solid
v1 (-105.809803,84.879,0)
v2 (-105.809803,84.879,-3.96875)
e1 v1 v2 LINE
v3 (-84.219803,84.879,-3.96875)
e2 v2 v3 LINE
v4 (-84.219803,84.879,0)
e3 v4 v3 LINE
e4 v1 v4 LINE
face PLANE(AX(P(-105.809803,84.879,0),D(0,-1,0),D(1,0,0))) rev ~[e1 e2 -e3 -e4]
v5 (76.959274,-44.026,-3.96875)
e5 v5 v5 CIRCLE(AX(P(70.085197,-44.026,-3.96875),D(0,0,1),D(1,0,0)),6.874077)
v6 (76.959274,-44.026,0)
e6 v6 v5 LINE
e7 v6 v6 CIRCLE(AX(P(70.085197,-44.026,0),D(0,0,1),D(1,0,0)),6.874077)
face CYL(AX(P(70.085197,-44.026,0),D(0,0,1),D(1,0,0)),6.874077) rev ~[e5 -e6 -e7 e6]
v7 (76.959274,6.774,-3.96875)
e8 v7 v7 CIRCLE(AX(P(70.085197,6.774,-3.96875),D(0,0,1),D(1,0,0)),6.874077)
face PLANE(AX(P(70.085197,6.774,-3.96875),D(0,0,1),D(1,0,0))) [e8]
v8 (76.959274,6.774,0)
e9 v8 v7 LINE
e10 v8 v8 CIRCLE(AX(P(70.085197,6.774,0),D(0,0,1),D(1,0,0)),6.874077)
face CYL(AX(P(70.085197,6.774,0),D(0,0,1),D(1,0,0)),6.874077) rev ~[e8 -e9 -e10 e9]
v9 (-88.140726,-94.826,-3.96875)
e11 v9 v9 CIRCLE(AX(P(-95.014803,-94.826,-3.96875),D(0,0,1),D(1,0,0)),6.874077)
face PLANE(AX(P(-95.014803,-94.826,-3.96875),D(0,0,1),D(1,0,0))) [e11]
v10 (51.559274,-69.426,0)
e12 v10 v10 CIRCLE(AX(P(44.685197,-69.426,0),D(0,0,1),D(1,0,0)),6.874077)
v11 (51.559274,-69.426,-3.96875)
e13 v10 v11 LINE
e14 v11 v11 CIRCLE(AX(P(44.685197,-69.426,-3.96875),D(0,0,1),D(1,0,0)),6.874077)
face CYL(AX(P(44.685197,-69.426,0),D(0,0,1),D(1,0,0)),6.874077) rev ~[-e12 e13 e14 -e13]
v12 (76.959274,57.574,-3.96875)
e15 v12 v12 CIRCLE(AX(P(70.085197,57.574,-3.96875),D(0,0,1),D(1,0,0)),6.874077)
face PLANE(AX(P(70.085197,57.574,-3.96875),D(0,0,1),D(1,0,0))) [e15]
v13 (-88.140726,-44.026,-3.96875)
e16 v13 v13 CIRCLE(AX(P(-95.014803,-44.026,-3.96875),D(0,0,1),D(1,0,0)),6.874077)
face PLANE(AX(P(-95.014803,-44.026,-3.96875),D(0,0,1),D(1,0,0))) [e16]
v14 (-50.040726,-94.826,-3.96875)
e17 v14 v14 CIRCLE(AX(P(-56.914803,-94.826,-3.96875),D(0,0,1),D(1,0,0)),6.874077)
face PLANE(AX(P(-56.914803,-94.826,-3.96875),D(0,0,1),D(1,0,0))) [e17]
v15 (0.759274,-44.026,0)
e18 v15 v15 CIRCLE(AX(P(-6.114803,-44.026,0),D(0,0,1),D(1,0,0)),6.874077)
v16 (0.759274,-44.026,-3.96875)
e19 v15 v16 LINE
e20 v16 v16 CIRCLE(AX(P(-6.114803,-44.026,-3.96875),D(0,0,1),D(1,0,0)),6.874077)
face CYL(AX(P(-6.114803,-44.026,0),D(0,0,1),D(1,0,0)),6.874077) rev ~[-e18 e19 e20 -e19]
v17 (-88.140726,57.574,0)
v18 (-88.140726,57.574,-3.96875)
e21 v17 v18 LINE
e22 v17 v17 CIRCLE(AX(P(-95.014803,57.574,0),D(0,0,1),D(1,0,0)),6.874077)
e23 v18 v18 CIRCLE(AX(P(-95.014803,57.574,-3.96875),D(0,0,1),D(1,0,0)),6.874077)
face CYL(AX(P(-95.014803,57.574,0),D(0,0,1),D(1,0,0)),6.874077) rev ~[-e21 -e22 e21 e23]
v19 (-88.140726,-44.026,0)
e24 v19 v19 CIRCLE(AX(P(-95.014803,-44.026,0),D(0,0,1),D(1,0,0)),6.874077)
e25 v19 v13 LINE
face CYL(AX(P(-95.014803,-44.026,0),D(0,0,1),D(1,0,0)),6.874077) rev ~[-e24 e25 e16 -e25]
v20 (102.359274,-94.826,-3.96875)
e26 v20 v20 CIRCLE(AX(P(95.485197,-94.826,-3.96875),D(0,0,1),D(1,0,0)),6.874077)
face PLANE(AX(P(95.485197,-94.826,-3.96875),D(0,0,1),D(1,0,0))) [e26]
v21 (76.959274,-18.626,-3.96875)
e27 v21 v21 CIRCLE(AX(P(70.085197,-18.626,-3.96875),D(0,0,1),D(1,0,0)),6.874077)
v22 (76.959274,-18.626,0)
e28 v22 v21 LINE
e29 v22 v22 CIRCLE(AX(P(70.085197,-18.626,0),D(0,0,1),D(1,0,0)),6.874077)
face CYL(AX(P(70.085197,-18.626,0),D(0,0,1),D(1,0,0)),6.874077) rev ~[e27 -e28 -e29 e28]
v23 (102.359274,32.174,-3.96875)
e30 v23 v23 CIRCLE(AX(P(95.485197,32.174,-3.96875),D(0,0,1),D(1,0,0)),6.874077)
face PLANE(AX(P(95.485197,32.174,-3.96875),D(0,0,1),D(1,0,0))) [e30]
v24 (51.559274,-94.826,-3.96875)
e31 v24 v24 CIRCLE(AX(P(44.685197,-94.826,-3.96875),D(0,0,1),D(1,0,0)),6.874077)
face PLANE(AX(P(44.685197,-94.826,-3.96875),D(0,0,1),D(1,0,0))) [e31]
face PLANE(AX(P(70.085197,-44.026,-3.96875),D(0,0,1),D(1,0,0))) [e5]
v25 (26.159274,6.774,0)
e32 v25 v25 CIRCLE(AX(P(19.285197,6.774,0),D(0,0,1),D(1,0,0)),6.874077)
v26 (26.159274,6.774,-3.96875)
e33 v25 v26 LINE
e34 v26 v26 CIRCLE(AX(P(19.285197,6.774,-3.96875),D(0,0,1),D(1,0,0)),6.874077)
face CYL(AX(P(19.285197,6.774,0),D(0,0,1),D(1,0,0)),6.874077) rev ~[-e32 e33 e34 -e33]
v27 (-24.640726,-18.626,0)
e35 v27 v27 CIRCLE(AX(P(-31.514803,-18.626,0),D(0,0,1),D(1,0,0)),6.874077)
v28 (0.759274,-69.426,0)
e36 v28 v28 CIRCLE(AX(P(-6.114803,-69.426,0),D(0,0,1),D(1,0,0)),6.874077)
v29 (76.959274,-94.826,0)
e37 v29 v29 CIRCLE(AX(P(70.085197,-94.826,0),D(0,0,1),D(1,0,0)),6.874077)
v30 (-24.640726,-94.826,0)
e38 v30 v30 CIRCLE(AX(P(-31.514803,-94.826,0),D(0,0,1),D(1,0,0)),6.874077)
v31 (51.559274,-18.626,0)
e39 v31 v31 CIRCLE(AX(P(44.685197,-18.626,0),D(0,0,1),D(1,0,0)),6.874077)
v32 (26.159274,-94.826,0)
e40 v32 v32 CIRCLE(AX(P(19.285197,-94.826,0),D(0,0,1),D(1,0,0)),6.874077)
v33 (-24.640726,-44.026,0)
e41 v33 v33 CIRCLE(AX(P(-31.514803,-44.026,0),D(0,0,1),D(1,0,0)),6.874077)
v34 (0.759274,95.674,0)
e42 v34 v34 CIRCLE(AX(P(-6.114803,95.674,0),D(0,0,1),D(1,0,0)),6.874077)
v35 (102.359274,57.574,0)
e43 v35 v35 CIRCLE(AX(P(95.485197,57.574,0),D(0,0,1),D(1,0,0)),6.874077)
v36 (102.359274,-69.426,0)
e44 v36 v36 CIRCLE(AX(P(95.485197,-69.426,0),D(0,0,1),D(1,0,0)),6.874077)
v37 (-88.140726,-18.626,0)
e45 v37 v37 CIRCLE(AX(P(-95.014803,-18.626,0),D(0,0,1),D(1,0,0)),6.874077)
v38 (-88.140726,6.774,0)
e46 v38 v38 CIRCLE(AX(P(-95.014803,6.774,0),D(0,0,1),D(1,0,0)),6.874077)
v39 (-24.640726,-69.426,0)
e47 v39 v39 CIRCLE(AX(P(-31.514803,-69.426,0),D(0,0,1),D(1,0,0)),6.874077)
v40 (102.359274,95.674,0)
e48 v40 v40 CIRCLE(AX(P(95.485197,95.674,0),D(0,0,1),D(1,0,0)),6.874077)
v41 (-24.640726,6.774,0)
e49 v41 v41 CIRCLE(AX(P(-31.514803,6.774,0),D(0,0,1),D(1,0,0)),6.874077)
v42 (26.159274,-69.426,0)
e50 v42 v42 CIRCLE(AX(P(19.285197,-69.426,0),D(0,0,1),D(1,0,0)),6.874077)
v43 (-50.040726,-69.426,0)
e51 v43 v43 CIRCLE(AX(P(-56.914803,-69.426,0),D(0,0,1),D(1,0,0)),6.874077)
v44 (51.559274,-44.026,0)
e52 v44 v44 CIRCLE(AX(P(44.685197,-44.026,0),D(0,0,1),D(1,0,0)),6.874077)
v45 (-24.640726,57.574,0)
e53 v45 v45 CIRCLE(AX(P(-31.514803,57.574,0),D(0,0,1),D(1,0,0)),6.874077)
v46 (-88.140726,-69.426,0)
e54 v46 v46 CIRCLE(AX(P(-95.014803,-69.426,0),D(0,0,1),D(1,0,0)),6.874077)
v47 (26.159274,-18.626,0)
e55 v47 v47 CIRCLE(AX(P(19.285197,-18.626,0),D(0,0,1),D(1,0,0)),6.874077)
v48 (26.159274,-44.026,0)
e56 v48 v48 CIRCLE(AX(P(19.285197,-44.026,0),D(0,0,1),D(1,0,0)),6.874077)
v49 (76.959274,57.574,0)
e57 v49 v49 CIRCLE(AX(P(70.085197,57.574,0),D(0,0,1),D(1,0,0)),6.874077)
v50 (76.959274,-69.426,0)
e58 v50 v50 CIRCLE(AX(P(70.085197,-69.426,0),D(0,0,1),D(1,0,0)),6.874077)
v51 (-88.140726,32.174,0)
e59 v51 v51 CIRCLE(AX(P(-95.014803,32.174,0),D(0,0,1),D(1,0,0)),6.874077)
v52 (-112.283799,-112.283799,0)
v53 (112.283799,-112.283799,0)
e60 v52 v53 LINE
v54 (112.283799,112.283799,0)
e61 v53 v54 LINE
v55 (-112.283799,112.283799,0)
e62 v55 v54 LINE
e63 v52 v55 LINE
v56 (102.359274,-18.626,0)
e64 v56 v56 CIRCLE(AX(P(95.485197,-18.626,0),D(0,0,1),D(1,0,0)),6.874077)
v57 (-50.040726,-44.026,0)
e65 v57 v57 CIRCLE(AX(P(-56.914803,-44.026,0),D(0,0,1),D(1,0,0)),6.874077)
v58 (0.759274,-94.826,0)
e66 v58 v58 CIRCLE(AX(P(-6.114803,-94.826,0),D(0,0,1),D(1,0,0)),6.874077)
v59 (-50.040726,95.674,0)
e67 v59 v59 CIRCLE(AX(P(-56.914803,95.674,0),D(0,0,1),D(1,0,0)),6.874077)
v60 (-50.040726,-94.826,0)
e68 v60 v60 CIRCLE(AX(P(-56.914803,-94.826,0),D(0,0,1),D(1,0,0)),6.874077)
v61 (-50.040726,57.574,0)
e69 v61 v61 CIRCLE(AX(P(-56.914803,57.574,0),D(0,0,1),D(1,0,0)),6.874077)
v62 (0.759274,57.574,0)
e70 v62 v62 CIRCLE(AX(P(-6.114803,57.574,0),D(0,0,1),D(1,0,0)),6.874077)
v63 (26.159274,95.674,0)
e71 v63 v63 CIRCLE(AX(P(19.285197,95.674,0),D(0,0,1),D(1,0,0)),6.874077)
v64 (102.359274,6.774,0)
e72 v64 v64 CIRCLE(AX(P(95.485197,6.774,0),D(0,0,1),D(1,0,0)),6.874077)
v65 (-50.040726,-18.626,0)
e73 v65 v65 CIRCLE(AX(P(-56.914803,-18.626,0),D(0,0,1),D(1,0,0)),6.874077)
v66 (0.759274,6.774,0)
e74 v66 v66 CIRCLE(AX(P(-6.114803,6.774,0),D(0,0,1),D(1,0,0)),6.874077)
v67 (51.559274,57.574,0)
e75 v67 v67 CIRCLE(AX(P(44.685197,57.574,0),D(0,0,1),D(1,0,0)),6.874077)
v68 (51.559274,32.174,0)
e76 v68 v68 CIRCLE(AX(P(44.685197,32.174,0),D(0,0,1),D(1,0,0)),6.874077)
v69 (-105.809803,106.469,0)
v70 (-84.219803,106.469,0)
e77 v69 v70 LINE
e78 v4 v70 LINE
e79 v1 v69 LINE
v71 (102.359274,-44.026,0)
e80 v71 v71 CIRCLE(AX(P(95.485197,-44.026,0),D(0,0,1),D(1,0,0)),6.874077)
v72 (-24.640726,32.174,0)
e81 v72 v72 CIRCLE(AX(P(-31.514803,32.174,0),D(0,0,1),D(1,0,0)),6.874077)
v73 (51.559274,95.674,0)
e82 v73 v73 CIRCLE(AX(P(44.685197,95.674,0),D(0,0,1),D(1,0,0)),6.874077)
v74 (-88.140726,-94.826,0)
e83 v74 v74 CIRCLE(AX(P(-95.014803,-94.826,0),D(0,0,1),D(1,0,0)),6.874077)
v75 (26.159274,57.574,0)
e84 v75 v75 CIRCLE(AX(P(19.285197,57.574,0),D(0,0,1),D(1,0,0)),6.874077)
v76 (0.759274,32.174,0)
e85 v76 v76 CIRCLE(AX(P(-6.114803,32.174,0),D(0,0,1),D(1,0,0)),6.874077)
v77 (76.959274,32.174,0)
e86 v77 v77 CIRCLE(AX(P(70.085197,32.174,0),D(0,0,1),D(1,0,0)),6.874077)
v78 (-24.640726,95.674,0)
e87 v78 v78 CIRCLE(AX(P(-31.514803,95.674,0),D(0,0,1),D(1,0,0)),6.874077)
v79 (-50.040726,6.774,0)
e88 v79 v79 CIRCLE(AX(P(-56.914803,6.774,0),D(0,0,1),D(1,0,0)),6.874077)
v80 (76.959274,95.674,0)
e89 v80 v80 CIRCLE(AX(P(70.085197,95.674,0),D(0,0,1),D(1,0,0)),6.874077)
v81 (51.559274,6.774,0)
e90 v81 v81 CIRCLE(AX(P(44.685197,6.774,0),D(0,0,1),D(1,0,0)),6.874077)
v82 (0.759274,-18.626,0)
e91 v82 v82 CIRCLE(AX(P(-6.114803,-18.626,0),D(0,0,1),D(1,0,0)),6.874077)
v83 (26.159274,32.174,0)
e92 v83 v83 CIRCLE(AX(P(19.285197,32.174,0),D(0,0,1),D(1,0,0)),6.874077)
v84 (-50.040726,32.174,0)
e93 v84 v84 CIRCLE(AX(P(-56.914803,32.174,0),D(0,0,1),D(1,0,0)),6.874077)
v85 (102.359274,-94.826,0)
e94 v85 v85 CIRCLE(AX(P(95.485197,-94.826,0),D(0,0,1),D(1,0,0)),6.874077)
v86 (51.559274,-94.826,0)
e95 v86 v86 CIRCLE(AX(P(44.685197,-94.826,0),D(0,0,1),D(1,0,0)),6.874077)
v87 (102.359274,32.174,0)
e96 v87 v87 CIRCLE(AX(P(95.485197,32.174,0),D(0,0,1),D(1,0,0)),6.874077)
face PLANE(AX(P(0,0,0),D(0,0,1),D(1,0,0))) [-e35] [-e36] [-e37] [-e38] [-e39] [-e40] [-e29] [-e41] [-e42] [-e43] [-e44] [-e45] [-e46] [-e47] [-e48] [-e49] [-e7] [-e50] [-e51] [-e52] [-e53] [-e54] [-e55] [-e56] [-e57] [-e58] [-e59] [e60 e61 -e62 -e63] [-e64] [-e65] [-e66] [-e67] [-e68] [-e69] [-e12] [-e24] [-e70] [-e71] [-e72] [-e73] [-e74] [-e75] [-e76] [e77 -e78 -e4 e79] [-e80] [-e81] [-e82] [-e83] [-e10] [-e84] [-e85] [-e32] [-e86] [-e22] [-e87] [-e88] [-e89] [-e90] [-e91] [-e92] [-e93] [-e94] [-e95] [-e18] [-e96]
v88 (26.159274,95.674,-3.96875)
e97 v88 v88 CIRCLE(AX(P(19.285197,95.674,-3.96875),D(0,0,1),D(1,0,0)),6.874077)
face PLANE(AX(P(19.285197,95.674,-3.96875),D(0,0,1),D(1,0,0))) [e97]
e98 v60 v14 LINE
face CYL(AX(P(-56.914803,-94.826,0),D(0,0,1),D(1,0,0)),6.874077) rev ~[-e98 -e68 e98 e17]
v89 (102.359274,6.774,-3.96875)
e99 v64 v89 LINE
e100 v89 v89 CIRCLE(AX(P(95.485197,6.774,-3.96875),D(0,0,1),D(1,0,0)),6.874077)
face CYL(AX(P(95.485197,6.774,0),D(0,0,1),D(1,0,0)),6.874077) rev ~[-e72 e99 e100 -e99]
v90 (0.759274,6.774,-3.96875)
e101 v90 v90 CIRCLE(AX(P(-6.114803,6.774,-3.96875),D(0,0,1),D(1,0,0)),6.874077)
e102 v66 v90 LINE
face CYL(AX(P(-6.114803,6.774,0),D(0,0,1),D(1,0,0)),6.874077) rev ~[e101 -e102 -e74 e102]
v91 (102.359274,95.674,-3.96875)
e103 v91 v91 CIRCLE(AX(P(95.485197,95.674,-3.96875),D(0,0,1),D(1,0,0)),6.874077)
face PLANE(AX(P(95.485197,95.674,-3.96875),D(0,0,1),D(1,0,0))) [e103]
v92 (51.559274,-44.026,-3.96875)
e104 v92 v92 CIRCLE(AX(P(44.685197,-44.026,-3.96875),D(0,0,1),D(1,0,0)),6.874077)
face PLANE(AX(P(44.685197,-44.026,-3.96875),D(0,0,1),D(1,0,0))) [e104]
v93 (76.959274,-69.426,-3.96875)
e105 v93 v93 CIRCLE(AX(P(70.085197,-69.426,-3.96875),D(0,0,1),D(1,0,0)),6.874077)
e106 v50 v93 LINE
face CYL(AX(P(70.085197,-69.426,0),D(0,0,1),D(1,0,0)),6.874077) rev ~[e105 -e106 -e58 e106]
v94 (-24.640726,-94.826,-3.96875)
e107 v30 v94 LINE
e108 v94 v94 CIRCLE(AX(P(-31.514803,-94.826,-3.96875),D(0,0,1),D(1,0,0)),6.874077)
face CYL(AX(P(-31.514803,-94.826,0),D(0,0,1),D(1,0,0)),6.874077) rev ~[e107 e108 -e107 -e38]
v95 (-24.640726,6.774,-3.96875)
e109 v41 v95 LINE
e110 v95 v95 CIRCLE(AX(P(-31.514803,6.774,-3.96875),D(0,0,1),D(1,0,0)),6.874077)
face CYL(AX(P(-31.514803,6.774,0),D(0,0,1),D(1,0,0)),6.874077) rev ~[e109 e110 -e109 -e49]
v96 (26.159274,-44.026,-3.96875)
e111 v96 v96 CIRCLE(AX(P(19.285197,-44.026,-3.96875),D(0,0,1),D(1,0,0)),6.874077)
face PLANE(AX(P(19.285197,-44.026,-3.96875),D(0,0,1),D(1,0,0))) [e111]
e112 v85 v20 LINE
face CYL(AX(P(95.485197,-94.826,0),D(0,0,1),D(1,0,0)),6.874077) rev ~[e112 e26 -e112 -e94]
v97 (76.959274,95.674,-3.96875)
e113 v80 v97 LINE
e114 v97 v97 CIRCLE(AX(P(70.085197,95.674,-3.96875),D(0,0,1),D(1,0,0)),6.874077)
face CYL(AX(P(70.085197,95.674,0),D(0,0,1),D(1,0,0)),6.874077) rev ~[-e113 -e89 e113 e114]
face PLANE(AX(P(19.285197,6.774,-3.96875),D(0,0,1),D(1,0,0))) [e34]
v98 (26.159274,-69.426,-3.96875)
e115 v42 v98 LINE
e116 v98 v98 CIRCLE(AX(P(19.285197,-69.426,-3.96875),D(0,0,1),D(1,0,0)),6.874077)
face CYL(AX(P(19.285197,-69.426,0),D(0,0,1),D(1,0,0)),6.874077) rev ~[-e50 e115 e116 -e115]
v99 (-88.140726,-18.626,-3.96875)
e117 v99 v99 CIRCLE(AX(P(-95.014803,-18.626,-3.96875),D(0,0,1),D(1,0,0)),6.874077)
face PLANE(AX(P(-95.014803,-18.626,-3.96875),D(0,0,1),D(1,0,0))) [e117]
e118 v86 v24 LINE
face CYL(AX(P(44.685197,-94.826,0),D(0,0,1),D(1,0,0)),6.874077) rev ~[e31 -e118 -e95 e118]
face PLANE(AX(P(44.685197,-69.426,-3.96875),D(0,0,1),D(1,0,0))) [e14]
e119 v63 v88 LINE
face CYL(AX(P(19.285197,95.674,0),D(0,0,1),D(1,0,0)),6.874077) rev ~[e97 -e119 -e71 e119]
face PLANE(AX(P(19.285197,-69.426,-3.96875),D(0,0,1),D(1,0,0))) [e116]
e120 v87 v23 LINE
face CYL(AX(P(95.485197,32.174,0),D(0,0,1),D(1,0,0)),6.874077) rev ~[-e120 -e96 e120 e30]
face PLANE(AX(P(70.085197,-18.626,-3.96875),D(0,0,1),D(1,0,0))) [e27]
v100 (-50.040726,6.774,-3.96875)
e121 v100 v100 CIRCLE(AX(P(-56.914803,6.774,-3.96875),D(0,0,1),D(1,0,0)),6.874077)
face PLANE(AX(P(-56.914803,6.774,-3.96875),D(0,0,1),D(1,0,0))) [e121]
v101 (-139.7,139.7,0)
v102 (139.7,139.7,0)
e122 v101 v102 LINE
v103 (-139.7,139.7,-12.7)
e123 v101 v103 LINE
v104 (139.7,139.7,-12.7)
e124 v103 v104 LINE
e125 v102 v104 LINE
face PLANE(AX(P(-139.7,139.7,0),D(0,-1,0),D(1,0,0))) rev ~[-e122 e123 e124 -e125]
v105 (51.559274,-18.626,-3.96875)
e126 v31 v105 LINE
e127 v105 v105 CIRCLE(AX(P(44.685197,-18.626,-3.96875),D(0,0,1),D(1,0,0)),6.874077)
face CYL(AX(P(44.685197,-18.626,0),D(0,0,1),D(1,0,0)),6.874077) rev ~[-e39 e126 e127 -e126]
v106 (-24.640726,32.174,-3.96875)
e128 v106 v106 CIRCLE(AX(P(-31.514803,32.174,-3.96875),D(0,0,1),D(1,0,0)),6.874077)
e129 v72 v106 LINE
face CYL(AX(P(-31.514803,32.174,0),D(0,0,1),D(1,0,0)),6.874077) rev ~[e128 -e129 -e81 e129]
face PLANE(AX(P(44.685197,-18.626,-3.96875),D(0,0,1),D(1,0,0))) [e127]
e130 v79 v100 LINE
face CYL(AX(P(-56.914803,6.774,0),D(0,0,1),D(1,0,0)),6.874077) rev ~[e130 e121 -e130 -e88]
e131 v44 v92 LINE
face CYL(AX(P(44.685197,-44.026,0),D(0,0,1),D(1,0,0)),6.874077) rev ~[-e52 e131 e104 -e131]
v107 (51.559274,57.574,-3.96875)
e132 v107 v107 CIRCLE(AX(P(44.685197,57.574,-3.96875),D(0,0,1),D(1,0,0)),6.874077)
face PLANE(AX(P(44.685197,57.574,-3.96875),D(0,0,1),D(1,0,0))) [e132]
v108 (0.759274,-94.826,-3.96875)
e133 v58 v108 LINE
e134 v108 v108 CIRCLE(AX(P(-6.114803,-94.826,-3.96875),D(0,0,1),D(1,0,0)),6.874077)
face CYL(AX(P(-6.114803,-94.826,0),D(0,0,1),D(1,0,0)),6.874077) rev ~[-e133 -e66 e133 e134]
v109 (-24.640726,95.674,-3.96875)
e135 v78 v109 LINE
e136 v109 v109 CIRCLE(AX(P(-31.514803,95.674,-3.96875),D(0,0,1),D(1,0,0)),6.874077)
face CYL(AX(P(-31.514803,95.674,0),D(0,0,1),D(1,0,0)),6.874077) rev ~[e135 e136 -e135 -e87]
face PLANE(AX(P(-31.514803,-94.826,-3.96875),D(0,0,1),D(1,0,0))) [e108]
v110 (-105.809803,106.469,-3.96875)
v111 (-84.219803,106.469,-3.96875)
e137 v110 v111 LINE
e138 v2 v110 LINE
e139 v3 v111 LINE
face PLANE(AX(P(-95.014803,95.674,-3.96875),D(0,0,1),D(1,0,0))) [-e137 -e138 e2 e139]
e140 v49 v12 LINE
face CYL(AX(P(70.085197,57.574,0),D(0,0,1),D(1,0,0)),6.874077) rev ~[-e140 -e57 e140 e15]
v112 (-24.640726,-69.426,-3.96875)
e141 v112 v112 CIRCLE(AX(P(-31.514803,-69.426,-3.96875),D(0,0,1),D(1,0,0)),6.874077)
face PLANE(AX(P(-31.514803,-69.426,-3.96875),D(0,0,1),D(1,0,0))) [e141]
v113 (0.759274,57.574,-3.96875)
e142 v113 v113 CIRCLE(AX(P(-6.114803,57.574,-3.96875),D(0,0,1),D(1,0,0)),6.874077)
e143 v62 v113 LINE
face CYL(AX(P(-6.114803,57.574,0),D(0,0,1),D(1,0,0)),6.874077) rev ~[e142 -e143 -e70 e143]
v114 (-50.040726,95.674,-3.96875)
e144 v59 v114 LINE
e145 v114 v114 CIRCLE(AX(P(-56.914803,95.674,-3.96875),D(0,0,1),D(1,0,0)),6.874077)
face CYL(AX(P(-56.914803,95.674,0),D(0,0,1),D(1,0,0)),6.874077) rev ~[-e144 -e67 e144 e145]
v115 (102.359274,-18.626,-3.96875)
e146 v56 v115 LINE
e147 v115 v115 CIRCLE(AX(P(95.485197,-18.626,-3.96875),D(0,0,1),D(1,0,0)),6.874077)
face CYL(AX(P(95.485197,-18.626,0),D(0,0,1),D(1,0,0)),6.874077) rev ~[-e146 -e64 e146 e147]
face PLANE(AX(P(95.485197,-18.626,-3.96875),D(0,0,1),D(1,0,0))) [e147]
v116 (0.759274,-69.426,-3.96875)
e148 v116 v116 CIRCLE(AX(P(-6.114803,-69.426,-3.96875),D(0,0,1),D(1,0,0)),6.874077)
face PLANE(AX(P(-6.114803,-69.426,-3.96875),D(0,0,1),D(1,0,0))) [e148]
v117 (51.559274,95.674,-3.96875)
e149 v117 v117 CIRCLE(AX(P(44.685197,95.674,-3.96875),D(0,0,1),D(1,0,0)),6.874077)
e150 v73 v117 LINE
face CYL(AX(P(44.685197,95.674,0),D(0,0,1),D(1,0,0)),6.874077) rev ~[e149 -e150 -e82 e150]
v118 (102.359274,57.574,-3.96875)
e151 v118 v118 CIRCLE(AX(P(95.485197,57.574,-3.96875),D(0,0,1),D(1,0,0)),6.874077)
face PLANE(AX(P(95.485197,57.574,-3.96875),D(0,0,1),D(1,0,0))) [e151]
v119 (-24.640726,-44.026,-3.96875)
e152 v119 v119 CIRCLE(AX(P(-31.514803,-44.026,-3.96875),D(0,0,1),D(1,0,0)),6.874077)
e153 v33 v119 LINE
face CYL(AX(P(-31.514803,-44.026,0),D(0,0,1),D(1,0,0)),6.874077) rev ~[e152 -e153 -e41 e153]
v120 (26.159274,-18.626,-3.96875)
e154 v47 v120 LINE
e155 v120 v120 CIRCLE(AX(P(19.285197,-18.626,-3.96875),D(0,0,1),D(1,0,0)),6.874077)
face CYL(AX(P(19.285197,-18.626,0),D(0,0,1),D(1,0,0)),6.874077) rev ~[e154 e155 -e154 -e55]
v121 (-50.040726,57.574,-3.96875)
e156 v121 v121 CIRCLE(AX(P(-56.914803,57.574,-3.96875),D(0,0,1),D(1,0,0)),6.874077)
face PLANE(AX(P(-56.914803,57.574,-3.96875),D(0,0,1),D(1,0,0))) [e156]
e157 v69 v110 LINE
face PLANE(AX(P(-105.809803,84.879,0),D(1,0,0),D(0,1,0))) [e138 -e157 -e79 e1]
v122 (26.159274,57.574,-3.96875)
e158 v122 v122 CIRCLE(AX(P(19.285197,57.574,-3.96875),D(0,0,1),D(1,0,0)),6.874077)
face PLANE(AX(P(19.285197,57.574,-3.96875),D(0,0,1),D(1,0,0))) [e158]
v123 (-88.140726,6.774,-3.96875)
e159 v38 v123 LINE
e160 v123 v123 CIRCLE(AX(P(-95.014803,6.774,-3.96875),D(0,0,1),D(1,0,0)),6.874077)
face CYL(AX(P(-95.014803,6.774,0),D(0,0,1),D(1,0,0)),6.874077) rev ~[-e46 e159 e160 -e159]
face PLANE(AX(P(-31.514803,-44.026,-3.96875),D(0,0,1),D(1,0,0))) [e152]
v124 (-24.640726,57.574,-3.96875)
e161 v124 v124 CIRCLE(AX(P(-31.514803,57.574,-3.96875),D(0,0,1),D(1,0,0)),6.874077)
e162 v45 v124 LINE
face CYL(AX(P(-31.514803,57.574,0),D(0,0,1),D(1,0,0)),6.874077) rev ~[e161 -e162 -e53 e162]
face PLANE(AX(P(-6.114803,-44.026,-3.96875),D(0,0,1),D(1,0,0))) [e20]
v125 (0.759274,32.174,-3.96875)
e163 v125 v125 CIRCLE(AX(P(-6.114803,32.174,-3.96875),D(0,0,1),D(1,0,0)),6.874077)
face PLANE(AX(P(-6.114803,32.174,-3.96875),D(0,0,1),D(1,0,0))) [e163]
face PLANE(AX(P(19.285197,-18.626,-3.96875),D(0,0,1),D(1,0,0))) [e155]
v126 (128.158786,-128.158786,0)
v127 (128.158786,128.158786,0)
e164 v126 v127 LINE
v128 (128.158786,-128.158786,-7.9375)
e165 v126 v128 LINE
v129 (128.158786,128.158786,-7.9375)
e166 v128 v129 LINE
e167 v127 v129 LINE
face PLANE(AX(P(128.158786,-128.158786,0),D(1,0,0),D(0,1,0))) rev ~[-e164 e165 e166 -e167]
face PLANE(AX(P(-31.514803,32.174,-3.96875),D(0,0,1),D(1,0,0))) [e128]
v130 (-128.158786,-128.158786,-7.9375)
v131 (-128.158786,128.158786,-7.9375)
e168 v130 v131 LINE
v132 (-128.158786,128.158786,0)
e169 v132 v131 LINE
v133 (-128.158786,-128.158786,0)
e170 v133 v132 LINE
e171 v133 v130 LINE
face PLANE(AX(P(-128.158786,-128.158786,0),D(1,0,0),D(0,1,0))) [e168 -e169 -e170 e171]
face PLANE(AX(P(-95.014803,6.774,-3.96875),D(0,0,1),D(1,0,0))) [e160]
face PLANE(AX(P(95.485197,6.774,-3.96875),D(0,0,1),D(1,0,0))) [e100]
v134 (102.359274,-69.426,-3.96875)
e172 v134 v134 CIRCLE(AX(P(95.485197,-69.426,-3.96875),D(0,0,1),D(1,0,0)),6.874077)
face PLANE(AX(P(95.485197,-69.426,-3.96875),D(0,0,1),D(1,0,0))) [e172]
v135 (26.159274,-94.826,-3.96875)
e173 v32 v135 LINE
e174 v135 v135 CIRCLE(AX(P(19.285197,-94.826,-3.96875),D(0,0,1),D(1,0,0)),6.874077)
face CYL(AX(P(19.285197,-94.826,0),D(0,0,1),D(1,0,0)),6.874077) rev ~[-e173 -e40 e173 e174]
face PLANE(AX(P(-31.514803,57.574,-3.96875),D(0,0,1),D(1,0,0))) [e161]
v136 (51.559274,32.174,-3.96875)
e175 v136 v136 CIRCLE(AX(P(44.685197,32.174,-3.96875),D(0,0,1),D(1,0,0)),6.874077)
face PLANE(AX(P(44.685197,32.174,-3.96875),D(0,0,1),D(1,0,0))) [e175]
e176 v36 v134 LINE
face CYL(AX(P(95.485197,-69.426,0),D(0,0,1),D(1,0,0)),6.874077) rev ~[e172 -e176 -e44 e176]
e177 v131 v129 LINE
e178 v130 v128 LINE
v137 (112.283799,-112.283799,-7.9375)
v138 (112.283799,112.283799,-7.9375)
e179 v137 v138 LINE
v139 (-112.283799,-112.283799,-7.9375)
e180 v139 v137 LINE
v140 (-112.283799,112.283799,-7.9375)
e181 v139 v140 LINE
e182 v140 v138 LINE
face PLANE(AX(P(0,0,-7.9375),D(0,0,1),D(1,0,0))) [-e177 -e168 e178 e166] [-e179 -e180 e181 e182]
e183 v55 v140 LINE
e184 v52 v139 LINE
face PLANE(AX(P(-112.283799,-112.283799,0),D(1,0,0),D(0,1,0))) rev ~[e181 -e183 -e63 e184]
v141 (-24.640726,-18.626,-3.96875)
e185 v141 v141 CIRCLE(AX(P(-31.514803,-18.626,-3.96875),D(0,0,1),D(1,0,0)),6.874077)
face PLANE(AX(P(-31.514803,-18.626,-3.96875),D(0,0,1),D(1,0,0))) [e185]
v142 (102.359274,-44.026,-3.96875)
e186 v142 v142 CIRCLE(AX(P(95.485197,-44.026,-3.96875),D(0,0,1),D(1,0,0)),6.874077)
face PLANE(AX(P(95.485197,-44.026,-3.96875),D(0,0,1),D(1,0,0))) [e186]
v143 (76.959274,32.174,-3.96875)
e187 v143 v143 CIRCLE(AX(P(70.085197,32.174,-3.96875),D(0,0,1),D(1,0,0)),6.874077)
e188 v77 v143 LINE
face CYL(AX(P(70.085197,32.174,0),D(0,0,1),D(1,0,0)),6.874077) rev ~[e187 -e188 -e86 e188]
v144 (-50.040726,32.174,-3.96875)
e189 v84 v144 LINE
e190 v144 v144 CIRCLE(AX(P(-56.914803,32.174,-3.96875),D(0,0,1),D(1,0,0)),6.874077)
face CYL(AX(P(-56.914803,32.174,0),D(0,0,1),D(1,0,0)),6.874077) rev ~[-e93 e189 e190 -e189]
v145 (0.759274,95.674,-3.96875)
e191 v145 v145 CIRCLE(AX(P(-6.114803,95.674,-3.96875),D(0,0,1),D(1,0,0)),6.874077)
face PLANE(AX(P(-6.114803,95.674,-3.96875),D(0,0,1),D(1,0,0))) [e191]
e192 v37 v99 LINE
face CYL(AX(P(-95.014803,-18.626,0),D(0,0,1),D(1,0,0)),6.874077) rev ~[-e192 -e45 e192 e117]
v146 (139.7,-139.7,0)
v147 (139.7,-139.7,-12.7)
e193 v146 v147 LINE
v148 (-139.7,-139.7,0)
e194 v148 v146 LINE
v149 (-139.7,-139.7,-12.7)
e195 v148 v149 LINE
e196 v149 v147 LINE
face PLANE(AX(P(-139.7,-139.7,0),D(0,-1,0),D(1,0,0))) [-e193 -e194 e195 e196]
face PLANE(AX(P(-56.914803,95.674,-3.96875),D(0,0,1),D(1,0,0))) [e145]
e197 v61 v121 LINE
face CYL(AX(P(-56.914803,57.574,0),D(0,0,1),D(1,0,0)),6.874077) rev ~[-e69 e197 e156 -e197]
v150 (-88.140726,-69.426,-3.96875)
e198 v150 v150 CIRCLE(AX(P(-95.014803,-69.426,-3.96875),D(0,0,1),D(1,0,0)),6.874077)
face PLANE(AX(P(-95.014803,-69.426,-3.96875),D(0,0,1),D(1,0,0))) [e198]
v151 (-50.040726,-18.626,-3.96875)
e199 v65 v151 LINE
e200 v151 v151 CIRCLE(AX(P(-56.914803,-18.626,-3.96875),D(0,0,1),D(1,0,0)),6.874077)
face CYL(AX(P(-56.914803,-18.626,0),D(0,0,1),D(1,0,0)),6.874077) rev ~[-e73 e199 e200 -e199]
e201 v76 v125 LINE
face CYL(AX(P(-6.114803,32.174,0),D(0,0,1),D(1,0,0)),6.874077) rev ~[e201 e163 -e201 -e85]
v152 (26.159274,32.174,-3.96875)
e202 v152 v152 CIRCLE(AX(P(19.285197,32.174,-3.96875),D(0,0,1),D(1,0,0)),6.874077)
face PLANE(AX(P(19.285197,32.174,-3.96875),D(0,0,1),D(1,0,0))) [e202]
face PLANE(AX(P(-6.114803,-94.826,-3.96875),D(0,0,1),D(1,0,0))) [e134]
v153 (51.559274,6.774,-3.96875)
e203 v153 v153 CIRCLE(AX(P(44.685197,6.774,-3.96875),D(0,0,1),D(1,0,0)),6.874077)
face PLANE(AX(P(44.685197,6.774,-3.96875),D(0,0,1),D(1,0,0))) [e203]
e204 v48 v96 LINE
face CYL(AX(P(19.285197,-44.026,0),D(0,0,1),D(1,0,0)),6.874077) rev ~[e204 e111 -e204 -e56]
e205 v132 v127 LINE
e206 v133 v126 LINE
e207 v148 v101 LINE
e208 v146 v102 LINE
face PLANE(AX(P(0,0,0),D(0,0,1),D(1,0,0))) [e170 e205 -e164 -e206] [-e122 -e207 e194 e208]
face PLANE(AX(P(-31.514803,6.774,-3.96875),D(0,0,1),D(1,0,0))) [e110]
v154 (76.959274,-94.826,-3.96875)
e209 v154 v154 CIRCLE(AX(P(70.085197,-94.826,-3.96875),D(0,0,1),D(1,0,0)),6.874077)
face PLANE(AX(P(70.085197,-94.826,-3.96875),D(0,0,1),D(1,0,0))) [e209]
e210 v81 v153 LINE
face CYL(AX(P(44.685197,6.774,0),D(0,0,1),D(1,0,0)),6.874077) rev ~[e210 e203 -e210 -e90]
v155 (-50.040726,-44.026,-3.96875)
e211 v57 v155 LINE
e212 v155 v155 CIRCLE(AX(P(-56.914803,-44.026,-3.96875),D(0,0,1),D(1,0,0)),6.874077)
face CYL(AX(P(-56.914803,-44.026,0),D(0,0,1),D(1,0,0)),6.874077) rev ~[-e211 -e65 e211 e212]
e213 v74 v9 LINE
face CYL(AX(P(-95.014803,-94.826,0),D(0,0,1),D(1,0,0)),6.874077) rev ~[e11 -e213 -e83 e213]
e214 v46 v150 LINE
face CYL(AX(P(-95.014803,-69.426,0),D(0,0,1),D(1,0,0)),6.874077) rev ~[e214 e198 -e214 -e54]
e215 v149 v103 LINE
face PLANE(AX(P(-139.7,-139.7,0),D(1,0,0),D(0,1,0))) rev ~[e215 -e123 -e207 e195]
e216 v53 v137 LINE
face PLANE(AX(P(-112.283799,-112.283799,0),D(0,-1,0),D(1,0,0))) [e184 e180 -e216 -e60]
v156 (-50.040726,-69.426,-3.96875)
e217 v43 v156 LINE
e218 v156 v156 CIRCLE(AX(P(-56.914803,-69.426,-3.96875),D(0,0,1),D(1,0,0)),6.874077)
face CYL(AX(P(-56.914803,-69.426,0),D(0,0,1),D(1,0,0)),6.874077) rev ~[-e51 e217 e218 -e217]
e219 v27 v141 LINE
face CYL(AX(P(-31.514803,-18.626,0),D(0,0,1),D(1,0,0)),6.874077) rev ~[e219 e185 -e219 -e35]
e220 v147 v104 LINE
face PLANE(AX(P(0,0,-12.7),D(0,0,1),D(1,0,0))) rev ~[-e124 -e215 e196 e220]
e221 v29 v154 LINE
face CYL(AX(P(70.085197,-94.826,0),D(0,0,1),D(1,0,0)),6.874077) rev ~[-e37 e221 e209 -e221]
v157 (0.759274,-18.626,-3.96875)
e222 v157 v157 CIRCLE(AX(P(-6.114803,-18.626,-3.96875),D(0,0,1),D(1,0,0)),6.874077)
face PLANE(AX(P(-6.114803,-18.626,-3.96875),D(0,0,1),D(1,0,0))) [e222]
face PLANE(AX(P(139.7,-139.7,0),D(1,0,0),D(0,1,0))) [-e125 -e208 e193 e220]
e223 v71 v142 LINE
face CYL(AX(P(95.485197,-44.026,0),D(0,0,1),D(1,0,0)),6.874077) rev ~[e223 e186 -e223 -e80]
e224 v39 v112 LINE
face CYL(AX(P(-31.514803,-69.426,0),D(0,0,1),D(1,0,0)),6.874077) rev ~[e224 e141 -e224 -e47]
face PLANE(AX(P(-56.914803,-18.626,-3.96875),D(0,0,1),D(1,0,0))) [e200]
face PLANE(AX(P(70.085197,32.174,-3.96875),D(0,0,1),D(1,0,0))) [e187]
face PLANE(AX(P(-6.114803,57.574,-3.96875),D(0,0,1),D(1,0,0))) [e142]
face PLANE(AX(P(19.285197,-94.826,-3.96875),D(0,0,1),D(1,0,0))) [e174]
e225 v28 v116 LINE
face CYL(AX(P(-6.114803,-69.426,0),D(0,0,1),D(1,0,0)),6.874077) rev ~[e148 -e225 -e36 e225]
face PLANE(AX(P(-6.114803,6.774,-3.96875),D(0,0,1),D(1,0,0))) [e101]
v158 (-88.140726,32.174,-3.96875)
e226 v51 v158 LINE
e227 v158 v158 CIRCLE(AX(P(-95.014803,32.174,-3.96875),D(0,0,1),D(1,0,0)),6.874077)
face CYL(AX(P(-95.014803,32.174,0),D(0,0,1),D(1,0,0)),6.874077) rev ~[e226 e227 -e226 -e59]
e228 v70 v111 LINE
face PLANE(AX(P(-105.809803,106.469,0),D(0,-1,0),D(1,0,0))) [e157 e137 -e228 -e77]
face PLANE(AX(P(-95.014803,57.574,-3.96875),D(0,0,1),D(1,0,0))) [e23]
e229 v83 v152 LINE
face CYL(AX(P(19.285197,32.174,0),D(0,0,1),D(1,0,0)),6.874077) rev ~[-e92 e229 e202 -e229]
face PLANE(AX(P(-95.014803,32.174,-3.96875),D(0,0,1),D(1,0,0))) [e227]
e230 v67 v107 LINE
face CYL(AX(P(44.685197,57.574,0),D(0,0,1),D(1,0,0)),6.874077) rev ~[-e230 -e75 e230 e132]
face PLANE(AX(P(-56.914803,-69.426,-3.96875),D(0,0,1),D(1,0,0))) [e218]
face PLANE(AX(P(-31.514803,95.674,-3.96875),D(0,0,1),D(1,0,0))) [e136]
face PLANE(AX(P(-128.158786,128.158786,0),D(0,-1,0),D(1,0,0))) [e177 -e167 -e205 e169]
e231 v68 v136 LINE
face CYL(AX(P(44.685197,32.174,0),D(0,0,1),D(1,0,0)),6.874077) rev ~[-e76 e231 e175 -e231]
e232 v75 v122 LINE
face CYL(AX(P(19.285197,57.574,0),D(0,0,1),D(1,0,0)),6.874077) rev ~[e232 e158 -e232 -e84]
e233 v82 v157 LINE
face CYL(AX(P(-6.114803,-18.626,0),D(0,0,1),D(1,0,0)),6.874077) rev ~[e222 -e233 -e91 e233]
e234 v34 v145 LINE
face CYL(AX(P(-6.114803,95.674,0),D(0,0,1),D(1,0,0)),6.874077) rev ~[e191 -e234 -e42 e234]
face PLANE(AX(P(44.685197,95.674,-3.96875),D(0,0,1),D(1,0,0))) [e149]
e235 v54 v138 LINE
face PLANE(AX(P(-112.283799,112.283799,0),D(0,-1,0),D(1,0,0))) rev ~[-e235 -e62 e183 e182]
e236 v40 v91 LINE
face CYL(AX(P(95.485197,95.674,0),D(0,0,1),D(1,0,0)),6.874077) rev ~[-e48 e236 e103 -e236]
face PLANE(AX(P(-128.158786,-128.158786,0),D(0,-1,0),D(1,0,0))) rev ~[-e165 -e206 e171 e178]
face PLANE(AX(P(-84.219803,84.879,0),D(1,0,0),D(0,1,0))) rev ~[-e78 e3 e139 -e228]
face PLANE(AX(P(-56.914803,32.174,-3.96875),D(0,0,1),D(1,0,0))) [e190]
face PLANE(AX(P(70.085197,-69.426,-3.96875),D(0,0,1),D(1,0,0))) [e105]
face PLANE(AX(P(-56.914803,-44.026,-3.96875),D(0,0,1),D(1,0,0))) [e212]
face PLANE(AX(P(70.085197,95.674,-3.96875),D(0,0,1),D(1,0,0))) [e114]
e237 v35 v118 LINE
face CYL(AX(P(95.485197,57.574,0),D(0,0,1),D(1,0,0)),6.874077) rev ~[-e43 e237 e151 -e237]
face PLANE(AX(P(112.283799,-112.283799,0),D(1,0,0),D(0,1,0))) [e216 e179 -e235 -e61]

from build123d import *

# Parameters (mm, degrees)
F0_W     = 279.4
F0_H     = 279.4
F1_DEPTH = 12.7
F2_R     = 6.874077
F2_W     = 21.59
F2_H     = 21.59
F3_DEPTH = 3.96875
F4_W     = 256.317572
F4_H     = 256.317572
F4_W_2   = 224.567598
F4_H_2   = 224.567598
F5_DEPTH = 7.9375


with BuildPart() as f1:
    # F0 (on Top) → F1 (new body)
    with BuildSketch(Plane.XY):
        Rectangle(F0_W, F0_H)
    extrude(amount=-F1_DEPTH)

    # F2 (on Top) → F3 (cut)
    with BuildSketch(Plane.XY):
        with Locations((-56.914803, -94.826)):
            Circle(F2_R)
        with Locations((-56.914803, -69.426)):
            Circle(F2_R)
        with Locations((-56.914803, -44.026)):
            Circle(F2_R)
        with Locations((-56.914803, -18.626)):
            Circle(F2_R)
        with Locations((-56.914803, 6.774)):
            Circle(F2_R)
        with Locations((-56.914803, 32.174)):
            Circle(F2_R)
        with Locations((-56.914803, 57.574)):
            Circle(F2_R)
        with Locations((-31.514803, -94.826)):
            Circle(F2_R)
        with Locations((-31.514803, -69.426)):
            Circle(F2_R)
        with Locations((-31.514803, -44.026)):
            Circle(F2_R)
        with Locations((-31.514803, -18.626)):
            Circle(F2_R)
        with Locations((-31.514803, 6.774)):
            Circle(F2_R)
        with Locations((-31.514803, 32.174)):
            Circle(F2_R)
        with Locations((-31.514803, 57.574)):
            Circle(F2_R)
        with Locations((-6.114803, -94.826)):
            Circle(F2_R)
        with Locations((-6.114803, -69.426)):
            Circle(F2_R)
        with Locations((-6.114803, -44.026)):
            Circle(F2_R)
        with Locations((-6.114803, -18.626)):
            Circle(F2_R)
        with Locations((-6.114803, 6.774)):
            Circle(F2_R)
        with Locations((-6.114803, 32.174)):
            Circle(F2_R)
        with Locations((-6.114803, 57.574)):
            Circle(F2_R)
        with Locations((19.285197, -94.826)):
            Circle(F2_R)
        with Locations((19.285197, -69.426)):
            Circle(F2_R)
        with Locations((19.285197, -44.026)):
            Circle(F2_R)
        with Locations((19.285197, -18.626)):
            Circle(F2_R)
        with Locations((19.285197, 6.774)):
            Circle(F2_R)
        with Locations((19.285197, 32.174)):
            Circle(F2_R)
        with Locations((19.285197, 57.574)):
            Circle(F2_R)
        with Locations((44.685197, -94.826)):
            Circle(F2_R)
        with Locations((44.685197, -69.426)):
            Circle(F2_R)
        with Locations((44.685197, -44.026)):
            Circle(F2_R)
        with Locations((44.685197, -18.626)):
            Circle(F2_R)
        with Locations((44.685197, 6.774)):
            Circle(F2_R)
        with Locations((44.685197, 32.174)):
            Circle(F2_R)
        with Locations((44.685197, 57.574)):
            Circle(F2_R)
        with Locations((70.085197, -94.826)):
            Circle(F2_R)
        with Locations((70.085197, -69.426)):
            Circle(F2_R)
        with Locations((70.085197, -44.026)):
            Circle(F2_R)
        with Locations((70.085197, -18.626)):
            Circle(F2_R)
        with Locations((70.085197, 6.774)):
            Circle(F2_R)
        with Locations((70.085197, 32.174)):
            Circle(F2_R)
        with Locations((70.085197, 57.574)):
            Circle(F2_R)
        with Locations((95.485197, -94.826)):
            Circle(F2_R)
        with Locations((95.485197, -69.426)):
            Circle(F2_R)
        with Locations((95.485197, -44.026)):
            Circle(F2_R)
        with Locations((95.485197, -18.626)):
            Circle(F2_R)
        with Locations((95.485197, 6.774)):
            Circle(F2_R)
        with Locations((95.485197, 32.174)):
            Circle(F2_R)
        with Locations((95.485197, 57.574)):
            Circle(F2_R)
        with Locations((-95.014803, -94.826)):
            Circle(F2_R)
        with Locations((95.485197, 95.674)):
            Circle(F2_R)
        with Locations((70.085197, 95.674)):
            Circle(F2_R)
        with Locations((44.685197, 95.674)):
            Circle(F2_R)
        with Locations((19.285197, 95.674)):
            Circle(F2_R)
        with Locations((-6.114803, 95.674)):
            Circle(F2_R)
        with Locations((-31.514803, 95.674)):
            Circle(F2_R)
        with Locations((-56.914803, 95.674)):
            Circle(F2_R)
        with Locations((-95.014803, -69.426)):
            Circle(F2_R)
        with Locations((-95.014803, -44.026)):
            Circle(F2_R)
        with Locations((-95.014803, -18.626)):
            Circle(F2_R)
        with Locations((-95.014803, 6.774)):
            Circle(F2_R)
        with Locations((-95.014803, 32.174)):
            Circle(F2_R)
        with Locations((-95.014803, 57.574)):
            Circle(F2_R)
        with Locations((-95.014803, 95.674)):
            Rectangle(F2_W, F2_H)
    extrude(amount=-F3_DEPTH, mode=Mode.SUBTRACT)

    # F4 (on Top) → F5 (cut)
    with BuildSketch(Plane.XY):
        Rectangle(F4_W, F4_H)
        Rectangle(F4_W_2, F4_H_2, mode=Mode.SUBTRACT)
    extrude(amount=-F5_DEPTH, mode=Mode.SUBTRACT)


solid = f1.part
